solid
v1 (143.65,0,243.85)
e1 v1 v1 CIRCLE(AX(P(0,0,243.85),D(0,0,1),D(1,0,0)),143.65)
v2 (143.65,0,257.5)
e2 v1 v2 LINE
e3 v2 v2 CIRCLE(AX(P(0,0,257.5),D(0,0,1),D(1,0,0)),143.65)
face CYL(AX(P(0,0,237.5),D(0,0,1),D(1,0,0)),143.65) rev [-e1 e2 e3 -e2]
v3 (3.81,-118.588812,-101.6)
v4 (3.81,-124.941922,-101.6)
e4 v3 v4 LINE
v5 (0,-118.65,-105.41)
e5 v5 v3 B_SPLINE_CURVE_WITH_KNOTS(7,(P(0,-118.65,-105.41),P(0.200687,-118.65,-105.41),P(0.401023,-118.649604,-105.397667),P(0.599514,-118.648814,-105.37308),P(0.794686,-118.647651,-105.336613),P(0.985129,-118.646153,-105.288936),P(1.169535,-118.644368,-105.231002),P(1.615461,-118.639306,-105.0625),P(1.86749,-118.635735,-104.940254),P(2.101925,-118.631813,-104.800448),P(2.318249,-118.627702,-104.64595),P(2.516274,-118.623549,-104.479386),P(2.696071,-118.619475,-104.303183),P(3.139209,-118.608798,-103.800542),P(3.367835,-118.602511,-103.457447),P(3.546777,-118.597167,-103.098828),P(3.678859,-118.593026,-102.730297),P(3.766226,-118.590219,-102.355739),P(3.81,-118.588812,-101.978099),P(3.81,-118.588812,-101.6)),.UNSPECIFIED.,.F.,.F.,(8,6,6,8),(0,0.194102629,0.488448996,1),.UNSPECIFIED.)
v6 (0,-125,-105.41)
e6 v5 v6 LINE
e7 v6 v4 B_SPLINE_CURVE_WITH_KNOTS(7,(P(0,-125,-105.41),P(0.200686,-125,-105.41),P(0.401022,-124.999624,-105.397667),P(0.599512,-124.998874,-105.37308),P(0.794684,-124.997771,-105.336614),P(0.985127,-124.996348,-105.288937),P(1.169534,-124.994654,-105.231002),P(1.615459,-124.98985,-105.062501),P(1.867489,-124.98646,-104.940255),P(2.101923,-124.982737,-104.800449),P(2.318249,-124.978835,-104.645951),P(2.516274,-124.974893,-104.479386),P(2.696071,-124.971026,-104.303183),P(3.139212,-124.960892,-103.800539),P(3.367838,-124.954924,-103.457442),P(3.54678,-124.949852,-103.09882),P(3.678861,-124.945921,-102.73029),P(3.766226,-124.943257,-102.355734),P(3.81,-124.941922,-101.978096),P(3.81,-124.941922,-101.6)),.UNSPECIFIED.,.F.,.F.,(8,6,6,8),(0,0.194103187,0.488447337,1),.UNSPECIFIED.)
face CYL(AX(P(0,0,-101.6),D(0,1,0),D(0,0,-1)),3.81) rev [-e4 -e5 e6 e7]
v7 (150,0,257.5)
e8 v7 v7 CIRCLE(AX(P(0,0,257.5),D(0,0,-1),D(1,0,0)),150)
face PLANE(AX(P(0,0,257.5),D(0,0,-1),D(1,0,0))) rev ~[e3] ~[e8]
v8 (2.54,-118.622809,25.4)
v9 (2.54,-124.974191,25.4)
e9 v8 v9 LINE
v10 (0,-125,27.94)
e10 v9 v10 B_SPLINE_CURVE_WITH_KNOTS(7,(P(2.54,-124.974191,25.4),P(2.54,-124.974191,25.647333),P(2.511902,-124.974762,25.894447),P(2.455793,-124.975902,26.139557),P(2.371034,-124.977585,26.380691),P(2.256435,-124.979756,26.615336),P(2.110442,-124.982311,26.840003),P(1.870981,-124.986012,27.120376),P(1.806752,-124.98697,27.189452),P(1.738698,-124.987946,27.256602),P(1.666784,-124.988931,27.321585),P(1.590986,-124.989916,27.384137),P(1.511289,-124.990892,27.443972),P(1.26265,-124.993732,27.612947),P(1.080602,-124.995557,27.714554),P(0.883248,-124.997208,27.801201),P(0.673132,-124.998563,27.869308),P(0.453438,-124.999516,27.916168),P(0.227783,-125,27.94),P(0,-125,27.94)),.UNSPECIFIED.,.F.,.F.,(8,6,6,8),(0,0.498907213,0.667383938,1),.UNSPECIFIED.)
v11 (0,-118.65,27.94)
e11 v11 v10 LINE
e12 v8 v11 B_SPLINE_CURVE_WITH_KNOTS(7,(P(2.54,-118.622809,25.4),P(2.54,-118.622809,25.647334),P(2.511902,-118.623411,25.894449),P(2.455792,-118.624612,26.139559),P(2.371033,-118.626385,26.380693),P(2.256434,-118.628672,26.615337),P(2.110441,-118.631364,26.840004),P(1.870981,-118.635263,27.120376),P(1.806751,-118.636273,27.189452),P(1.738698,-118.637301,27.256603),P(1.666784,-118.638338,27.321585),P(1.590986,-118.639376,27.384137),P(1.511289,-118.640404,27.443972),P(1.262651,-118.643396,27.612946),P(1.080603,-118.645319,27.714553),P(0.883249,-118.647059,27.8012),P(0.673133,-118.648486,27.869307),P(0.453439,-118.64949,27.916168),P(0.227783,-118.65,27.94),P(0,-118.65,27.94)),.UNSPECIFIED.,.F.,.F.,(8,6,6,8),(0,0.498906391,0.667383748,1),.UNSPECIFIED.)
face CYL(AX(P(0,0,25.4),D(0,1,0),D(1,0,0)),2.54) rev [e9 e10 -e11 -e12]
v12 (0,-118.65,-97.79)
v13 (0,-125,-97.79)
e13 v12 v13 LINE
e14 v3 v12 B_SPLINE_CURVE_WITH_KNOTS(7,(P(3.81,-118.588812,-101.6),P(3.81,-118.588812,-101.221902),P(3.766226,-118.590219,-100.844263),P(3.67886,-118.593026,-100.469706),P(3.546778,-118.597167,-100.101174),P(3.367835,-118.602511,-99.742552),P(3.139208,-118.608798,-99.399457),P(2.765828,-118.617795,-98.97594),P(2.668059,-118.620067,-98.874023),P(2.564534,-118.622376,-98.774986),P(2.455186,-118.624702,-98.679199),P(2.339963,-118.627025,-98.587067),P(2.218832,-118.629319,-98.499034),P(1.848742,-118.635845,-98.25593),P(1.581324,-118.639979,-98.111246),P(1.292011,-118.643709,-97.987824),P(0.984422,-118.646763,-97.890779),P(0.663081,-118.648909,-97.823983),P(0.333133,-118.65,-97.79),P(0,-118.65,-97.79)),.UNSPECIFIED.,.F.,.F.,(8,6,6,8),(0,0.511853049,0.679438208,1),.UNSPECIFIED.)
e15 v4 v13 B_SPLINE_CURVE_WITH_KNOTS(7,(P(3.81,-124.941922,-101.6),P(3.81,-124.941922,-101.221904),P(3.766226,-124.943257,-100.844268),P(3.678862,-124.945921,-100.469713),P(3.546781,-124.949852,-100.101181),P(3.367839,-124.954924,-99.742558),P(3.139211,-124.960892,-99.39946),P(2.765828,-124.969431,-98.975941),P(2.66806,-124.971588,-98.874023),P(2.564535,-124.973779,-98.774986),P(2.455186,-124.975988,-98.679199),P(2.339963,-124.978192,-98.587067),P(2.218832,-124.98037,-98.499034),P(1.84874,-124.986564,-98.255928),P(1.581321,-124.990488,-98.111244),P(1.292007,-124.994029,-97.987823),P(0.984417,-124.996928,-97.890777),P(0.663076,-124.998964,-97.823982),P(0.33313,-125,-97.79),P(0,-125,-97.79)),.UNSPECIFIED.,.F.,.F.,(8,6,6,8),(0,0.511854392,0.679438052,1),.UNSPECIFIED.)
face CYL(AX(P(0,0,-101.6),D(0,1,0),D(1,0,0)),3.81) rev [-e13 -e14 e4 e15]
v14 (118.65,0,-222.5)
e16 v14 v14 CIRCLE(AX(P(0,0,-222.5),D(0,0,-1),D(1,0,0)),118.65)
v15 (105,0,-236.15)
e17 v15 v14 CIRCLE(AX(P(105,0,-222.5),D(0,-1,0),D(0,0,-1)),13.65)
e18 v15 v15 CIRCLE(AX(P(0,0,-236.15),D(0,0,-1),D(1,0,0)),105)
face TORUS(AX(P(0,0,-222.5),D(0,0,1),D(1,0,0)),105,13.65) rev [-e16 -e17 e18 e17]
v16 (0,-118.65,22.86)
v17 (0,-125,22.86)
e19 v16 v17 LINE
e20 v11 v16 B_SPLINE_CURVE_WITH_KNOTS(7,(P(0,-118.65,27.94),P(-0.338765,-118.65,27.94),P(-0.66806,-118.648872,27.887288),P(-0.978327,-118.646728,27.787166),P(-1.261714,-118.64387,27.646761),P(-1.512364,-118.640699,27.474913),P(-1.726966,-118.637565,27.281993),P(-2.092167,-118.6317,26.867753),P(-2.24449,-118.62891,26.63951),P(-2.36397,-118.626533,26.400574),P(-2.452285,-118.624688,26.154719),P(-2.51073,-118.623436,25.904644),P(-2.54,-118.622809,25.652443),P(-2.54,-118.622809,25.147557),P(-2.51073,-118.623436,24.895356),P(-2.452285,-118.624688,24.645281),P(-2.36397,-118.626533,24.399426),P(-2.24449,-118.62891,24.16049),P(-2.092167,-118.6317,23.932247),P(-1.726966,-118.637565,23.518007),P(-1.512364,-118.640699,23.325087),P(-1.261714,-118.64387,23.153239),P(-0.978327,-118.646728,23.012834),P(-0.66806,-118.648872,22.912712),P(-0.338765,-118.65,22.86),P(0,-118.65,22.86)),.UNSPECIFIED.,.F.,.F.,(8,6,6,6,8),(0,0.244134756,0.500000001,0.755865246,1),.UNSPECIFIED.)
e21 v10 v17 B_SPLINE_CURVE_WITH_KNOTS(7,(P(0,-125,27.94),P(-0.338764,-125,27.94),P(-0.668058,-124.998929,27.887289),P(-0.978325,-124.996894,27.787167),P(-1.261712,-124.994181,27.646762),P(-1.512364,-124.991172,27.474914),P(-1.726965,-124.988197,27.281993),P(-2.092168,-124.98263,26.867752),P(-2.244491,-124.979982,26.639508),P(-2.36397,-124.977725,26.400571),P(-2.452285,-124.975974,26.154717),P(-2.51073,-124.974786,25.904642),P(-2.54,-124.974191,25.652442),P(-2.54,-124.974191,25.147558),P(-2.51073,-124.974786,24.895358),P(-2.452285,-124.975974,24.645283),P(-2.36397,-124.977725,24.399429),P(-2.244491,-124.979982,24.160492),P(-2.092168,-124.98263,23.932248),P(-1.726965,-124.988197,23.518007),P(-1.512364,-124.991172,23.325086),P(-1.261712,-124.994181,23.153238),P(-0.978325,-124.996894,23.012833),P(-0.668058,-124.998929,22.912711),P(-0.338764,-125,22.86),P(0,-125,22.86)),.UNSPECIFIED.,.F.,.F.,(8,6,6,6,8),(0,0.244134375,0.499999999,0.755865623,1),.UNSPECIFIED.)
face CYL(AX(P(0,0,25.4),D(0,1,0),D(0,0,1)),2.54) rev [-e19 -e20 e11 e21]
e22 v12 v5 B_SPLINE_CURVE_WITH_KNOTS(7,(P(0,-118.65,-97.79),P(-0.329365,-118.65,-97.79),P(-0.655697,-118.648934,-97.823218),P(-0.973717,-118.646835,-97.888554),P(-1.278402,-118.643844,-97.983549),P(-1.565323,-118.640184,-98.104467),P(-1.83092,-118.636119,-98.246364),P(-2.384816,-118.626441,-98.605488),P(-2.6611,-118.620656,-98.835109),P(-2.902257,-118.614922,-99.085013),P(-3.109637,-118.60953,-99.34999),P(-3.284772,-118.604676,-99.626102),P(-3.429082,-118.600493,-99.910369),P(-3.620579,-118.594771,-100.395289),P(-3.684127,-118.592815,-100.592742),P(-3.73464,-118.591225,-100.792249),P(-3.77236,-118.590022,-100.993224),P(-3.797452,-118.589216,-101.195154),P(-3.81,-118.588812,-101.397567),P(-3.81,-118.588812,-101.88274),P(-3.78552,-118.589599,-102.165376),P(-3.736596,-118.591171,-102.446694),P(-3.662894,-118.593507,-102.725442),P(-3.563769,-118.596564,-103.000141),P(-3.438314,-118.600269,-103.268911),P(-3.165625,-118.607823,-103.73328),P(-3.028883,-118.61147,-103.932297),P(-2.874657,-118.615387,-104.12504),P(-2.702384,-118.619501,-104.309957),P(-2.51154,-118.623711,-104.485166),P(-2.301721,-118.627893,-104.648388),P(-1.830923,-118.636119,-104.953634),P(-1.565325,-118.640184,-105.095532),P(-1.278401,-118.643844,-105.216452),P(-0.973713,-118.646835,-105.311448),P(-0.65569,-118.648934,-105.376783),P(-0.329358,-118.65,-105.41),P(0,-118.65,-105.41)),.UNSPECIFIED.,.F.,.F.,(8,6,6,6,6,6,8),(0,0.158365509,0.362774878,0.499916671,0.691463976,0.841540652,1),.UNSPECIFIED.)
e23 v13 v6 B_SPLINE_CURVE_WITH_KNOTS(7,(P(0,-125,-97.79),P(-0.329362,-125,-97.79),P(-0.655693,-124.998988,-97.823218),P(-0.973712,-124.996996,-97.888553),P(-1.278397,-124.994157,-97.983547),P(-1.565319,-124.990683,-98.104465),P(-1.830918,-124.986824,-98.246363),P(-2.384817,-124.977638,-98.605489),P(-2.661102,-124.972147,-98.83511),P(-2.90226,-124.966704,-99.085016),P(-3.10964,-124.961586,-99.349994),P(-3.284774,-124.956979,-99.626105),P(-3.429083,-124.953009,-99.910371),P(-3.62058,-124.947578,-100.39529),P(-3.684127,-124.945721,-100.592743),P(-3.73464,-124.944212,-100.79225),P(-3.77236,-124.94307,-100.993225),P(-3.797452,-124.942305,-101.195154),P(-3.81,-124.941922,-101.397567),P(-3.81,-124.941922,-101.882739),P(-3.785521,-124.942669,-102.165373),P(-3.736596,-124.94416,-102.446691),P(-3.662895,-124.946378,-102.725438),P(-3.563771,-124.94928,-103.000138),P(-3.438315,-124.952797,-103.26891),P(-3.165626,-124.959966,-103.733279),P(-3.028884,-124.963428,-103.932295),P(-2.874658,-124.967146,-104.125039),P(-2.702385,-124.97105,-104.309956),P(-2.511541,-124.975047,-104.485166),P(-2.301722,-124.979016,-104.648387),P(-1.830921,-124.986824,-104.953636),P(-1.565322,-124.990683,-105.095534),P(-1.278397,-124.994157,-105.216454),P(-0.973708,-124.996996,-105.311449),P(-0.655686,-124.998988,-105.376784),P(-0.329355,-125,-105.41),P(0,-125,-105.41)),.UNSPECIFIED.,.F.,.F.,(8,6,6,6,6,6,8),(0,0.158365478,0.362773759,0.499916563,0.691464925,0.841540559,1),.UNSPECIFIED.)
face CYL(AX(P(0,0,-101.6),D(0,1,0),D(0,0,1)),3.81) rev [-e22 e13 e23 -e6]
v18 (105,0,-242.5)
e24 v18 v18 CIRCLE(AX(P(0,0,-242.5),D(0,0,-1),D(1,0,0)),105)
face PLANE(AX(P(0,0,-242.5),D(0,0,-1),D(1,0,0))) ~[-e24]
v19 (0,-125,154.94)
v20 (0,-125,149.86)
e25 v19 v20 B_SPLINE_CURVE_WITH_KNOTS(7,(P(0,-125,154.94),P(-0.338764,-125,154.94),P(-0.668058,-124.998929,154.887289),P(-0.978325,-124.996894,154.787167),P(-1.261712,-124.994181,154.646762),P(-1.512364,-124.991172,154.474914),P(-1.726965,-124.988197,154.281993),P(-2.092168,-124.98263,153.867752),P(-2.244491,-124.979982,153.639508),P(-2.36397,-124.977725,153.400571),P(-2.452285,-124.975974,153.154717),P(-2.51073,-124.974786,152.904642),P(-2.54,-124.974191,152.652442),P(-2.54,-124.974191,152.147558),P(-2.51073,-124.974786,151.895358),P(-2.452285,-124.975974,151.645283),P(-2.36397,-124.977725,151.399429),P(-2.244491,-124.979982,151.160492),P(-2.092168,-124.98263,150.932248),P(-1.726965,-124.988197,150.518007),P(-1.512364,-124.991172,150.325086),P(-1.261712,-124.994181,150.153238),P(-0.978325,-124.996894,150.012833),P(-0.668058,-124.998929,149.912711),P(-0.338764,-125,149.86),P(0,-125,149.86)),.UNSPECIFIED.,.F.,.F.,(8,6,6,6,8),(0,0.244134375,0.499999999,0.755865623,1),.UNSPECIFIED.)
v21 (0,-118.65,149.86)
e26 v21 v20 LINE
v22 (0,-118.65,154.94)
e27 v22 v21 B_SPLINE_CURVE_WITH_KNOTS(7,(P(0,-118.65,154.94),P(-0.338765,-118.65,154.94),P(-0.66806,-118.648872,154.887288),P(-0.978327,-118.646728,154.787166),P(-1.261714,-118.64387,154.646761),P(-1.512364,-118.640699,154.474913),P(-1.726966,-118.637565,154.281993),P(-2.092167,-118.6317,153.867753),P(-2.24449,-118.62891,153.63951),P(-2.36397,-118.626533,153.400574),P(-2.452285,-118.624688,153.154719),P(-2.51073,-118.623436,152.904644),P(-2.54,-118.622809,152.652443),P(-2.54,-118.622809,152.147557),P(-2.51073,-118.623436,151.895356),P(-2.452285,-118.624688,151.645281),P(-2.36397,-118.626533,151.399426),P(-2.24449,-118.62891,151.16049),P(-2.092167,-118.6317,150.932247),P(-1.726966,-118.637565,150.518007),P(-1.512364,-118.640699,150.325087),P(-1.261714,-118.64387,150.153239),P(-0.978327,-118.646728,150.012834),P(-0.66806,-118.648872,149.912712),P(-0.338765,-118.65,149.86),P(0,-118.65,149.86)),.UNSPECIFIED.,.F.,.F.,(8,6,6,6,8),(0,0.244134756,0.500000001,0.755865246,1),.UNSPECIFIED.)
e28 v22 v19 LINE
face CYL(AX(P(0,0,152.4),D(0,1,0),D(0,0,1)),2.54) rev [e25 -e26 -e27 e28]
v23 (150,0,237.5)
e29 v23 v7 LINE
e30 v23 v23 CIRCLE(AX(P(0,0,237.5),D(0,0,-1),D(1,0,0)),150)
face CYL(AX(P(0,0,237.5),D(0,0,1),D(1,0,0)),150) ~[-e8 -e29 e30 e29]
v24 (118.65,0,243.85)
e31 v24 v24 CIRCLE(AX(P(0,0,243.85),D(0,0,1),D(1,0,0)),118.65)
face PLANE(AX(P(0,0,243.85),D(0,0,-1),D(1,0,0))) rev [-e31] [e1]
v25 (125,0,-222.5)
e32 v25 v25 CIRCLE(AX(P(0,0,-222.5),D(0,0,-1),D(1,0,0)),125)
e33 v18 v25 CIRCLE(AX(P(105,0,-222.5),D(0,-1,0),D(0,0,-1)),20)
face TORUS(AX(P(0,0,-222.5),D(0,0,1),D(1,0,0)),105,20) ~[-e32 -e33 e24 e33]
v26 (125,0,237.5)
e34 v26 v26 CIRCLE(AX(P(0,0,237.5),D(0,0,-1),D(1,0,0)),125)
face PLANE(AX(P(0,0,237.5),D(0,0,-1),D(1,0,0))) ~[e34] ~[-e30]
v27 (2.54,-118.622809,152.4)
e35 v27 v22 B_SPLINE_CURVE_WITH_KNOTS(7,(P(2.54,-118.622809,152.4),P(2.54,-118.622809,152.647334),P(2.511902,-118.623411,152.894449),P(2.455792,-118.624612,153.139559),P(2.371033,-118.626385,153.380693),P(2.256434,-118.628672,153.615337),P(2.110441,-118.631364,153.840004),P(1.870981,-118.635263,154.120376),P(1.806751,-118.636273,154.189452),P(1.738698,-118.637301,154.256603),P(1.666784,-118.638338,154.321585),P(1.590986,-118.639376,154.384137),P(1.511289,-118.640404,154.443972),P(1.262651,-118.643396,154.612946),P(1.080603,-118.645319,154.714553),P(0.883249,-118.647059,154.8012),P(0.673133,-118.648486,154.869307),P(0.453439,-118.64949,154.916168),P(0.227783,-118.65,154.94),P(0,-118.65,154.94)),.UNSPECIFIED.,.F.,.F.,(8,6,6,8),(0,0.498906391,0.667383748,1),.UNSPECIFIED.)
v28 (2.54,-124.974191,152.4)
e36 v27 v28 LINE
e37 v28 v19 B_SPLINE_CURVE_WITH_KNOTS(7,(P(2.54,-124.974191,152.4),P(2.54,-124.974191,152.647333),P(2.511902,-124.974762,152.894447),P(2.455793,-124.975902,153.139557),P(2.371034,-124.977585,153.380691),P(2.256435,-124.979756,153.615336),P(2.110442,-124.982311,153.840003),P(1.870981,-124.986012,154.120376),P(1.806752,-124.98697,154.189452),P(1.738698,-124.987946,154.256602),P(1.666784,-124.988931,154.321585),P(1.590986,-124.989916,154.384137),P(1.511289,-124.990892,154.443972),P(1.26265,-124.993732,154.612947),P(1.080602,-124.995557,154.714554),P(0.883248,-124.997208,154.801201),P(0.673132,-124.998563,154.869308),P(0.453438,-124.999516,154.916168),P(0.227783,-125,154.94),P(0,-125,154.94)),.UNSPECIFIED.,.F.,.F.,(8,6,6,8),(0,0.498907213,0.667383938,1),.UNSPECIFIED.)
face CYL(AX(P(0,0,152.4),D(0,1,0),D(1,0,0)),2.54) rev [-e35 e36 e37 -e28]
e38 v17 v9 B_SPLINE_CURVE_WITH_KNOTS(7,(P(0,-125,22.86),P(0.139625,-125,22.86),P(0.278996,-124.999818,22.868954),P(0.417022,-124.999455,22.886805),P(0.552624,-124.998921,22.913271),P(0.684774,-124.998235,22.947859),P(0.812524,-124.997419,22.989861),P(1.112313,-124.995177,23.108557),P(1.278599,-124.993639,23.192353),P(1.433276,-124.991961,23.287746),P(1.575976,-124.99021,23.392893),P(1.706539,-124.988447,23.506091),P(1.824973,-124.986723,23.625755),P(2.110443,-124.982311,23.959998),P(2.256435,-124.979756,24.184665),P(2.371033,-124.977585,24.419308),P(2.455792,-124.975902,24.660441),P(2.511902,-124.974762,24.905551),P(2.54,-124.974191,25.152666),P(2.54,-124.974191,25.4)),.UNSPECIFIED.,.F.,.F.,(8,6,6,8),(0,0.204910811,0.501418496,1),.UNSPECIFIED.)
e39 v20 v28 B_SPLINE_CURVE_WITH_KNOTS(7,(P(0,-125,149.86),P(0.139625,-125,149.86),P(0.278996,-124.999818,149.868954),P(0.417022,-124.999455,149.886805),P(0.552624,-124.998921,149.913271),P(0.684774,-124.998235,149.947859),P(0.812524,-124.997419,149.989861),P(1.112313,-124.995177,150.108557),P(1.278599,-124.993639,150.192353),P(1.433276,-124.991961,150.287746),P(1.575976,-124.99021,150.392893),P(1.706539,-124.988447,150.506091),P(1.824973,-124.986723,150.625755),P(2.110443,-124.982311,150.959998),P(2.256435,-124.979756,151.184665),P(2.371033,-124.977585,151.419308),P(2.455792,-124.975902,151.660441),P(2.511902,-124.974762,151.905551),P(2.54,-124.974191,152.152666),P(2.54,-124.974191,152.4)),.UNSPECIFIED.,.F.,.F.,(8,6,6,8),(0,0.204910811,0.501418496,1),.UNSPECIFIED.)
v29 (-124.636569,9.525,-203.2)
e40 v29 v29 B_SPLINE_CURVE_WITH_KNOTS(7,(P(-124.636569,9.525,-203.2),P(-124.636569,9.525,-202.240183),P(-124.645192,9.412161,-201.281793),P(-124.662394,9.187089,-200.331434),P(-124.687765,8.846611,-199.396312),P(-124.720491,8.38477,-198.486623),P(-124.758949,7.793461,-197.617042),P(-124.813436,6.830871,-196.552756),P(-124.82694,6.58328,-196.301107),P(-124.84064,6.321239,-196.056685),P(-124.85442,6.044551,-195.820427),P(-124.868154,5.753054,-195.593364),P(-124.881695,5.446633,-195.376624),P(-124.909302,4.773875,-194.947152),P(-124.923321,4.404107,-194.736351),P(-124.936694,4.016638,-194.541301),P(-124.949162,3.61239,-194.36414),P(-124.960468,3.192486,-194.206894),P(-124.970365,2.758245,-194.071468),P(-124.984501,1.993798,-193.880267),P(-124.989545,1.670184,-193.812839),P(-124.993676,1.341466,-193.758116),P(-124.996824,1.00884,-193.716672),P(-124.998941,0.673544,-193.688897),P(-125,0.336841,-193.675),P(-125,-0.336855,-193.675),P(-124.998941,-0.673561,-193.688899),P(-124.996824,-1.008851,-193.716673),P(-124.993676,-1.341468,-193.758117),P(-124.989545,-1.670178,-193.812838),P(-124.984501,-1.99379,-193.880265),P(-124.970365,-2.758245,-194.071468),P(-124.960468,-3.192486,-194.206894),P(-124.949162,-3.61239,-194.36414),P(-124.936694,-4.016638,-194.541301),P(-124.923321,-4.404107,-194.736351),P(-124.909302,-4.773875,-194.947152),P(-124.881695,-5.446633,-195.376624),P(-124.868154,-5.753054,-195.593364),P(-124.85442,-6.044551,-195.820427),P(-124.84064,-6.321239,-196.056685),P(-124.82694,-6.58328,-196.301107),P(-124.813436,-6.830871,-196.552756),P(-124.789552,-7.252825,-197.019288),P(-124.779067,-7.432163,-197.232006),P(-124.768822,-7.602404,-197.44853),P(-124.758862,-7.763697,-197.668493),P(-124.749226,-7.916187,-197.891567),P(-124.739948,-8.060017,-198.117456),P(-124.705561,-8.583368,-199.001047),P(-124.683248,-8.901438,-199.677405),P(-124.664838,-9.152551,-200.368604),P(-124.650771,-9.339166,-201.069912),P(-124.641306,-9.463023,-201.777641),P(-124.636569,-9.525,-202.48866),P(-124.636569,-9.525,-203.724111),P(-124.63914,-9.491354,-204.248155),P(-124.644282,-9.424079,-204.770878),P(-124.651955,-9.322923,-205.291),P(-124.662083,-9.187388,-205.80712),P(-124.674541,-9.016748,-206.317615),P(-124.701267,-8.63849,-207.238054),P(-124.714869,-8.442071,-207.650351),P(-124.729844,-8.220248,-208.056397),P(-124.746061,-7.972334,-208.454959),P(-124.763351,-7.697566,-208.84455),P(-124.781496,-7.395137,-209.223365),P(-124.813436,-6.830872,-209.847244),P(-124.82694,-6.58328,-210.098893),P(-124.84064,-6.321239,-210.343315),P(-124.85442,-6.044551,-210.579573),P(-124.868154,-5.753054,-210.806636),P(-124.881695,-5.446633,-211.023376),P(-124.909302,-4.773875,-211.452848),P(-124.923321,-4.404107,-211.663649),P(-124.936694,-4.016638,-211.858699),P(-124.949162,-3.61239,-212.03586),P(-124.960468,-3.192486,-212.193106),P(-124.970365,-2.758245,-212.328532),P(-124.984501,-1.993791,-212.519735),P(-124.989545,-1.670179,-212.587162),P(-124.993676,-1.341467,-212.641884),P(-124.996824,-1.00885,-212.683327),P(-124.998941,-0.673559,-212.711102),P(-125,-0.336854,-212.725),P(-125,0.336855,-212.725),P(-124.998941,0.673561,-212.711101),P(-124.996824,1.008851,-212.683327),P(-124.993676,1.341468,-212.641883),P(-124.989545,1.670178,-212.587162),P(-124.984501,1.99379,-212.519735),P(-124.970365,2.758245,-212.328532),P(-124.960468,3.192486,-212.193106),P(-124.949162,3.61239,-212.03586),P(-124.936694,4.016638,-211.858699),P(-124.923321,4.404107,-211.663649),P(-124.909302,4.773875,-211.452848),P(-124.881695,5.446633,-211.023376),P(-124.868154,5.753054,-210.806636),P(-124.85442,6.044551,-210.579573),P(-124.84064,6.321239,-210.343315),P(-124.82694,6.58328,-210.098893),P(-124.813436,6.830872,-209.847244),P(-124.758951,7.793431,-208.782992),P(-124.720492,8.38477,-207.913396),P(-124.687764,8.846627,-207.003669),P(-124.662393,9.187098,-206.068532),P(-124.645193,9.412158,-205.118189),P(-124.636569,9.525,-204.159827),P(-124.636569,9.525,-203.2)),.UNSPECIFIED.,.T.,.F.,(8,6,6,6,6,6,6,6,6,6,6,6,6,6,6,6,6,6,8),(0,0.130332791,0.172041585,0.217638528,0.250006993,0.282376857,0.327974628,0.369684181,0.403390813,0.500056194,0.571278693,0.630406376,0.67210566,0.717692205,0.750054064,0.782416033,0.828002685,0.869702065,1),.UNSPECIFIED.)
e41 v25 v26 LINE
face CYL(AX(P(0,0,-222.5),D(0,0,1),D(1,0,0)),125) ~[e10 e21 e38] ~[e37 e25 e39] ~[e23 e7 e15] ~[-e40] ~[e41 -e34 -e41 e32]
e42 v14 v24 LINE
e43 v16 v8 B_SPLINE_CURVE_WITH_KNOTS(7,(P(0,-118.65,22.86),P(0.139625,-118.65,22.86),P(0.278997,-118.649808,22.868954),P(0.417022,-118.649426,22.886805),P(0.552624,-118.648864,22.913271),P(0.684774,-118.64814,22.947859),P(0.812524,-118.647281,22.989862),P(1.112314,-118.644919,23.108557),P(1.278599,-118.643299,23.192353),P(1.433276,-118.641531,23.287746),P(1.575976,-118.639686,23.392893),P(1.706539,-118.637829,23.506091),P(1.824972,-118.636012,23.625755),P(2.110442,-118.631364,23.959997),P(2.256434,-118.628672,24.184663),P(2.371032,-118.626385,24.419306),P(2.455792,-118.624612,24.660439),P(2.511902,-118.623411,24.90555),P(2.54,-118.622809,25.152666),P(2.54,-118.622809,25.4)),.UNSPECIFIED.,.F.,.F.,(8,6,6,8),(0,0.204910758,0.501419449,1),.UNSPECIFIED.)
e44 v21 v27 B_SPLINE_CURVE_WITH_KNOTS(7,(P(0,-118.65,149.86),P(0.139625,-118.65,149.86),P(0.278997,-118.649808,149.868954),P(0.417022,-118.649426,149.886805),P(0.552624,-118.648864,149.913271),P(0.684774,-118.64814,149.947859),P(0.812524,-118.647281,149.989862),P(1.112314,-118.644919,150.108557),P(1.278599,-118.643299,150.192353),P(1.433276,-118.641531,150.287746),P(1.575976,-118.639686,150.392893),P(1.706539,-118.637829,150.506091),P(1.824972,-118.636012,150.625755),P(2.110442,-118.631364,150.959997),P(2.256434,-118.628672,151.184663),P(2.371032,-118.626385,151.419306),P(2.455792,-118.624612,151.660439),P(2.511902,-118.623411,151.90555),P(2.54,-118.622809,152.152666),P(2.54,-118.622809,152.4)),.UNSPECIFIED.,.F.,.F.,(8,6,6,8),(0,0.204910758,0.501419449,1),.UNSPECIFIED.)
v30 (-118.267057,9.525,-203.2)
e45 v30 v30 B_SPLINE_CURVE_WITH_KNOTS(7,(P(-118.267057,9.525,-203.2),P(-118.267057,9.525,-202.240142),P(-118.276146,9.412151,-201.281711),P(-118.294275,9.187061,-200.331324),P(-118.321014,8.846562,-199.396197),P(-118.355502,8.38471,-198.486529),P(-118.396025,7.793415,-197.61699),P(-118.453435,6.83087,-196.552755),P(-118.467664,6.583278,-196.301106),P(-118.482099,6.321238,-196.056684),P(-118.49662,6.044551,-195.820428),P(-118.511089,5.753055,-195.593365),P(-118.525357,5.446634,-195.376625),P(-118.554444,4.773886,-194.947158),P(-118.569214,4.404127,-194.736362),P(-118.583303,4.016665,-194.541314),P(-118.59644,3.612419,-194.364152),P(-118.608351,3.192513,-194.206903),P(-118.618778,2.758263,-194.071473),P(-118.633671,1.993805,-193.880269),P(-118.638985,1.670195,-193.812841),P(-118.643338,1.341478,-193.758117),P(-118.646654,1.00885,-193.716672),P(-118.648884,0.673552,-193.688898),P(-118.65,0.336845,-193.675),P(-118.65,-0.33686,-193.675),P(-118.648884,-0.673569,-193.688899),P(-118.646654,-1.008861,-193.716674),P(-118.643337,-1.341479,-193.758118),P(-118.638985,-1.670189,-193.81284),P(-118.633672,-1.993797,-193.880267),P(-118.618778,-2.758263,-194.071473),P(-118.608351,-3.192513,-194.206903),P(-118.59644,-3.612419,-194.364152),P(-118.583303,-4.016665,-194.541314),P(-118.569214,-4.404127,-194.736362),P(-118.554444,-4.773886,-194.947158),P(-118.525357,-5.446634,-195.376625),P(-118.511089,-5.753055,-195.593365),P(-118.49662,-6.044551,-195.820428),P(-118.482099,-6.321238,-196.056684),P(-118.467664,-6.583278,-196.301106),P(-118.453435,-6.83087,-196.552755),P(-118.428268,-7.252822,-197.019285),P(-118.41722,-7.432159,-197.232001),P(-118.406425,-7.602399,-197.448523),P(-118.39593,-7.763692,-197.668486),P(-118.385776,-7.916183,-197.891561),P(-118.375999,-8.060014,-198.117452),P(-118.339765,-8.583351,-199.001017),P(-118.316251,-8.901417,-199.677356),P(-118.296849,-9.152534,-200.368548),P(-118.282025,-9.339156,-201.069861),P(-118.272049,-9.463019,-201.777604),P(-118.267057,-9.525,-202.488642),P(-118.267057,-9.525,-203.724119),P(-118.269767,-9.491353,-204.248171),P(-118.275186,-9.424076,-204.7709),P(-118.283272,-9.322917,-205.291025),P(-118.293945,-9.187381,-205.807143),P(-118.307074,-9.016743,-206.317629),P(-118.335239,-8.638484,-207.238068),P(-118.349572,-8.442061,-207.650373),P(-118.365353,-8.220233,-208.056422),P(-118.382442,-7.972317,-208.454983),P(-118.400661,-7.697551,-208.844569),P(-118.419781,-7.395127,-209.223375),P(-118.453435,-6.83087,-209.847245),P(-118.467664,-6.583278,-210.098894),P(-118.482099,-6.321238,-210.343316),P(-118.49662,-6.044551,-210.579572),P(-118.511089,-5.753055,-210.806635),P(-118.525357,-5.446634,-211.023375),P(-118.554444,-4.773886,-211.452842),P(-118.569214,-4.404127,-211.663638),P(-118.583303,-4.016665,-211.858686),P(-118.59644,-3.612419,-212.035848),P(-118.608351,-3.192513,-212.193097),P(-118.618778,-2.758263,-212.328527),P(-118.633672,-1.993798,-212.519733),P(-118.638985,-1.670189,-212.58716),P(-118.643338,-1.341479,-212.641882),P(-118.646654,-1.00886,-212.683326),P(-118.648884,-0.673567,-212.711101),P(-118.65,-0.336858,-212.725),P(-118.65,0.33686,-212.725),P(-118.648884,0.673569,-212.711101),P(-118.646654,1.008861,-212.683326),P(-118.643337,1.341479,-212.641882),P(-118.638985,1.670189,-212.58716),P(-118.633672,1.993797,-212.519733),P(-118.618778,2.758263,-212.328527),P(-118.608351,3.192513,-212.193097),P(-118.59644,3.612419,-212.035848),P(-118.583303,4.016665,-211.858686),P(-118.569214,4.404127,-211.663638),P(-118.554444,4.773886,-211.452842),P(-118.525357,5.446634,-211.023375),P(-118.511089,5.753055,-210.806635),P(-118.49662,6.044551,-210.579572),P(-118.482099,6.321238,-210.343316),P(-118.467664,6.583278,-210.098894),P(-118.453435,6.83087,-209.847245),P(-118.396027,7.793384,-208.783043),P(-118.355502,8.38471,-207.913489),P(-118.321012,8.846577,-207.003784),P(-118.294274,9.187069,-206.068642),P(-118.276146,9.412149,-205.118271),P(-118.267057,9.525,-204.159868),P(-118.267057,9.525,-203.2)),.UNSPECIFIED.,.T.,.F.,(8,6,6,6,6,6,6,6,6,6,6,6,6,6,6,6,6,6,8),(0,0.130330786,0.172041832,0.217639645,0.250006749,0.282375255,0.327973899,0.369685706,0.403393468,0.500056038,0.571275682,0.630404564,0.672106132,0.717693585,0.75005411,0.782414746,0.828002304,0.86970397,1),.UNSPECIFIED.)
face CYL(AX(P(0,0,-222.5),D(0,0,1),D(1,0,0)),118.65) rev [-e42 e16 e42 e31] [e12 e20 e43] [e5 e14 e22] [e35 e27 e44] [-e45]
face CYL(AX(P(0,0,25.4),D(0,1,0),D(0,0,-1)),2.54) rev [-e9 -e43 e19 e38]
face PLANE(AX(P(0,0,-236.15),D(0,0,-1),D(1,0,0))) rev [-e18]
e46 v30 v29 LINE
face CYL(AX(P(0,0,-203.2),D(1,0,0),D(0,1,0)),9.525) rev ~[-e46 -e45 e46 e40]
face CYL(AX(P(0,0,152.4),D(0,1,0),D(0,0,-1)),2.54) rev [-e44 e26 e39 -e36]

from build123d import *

# Parameters (mm, degrees)
F2_T     = -6.35
F4_DEPTH = 150.001
F6_DEPTH = 150.001


with BuildPart() as f1:
    # F0 (on Front) → F1 (revolve)
    with BuildSketch(Plane.XZ):
        with BuildLine():
            Line((0, 257.5), (0, -242.5))
            Line((0, -242.5), (105, -242.5))
            ThreePointArc((105, -242.5), (119.1421356237, -236.6421356237), (125, -222.5))
            Line((125, -222.5), (125, 237.5))
            Line((125, 237.5), (150, 237.5))
            Line((150, 237.5), (150, 257.5))
            Line((150, 257.5), (0, 257.5))
        make_face()
    revolve(axis=Axis((0, 0, 7.5), (0, 0, -1)))

    # F2
    f2_openings = [f1.faces().sort_by_distance(p)[0] for p in [
        (0, 0, 257.5),
    ]]
    offset(amount=F2_T, openings=f2_openings, kind=Kind.INTERSECTION)

    # F3 (on Front) → F4 (cut, through all)
    with BuildSketch(Plane.XZ):
        with BuildLine():
            ThreePointArc((0, 149.86), (1.7960512242, 150.6039487758), (2.54, 152.4))
            ThreePointArc((2.54, 152.4), (1.7960512242, 154.1960512242), (0, 154.94))
            Line((0, 154.94), (0, 149.86))
        make_face()
        with BuildLine():
            ThreePointArc((3.81, -101.6), (2.6940768363, -98.9059231637), (0, -97.79))
            Line((0, -97.79), (0, -105.41))
            ThreePointArc((0, -105.41), (2.6940768363, -104.2940768363), (3.81, -101.6))
        make_face()
        with BuildLine():
            Line((0, -105.41), (0, -97.79))
            ThreePointArc((0, -97.79), (-3.81, -101.6), (0, -105.41))
        make_face()
        with BuildLine():
            ThreePointArc((2.54, 25.4), (1.7960512242, 27.1960512242), (0, 27.94))
            Line((0, 27.94), (0, 22.86))
            ThreePointArc((0, 22.86), (1.7960512242, 23.6039487758), (2.54, 25.4))
        make_face()
        with BuildLine():
            Line((0, 22.86), (0, 27.94))
            ThreePointArc((0, 27.94), (-2.54, 25.4), (0, 22.86))
        make_face()
        with BuildLine():
            Line((0, 149.86), (0, 154.94))
            ThreePointArc((0, 154.94), (-2.54, 152.4), (0, 149.86))
        make_face()
    extrude(amount=F4_DEPTH, mode=Mode.SUBTRACT)

    # F5 (on Right) → F6 (cut, through all)
    with BuildSketch(Plane.YZ):
        with BuildLine():
            ThreePointArc((0, -193.675), (-6.7351920908, -209.9351920908), (9.525, -203.2))
            ThreePointArc((9.525, -203.2), (6.7351920908, -196.4648079092), (0, -193.675))
        make_face()
    extrude(amount=-F6_DEPTH, mode=Mode.SUBTRACT)


solid = f1.part
